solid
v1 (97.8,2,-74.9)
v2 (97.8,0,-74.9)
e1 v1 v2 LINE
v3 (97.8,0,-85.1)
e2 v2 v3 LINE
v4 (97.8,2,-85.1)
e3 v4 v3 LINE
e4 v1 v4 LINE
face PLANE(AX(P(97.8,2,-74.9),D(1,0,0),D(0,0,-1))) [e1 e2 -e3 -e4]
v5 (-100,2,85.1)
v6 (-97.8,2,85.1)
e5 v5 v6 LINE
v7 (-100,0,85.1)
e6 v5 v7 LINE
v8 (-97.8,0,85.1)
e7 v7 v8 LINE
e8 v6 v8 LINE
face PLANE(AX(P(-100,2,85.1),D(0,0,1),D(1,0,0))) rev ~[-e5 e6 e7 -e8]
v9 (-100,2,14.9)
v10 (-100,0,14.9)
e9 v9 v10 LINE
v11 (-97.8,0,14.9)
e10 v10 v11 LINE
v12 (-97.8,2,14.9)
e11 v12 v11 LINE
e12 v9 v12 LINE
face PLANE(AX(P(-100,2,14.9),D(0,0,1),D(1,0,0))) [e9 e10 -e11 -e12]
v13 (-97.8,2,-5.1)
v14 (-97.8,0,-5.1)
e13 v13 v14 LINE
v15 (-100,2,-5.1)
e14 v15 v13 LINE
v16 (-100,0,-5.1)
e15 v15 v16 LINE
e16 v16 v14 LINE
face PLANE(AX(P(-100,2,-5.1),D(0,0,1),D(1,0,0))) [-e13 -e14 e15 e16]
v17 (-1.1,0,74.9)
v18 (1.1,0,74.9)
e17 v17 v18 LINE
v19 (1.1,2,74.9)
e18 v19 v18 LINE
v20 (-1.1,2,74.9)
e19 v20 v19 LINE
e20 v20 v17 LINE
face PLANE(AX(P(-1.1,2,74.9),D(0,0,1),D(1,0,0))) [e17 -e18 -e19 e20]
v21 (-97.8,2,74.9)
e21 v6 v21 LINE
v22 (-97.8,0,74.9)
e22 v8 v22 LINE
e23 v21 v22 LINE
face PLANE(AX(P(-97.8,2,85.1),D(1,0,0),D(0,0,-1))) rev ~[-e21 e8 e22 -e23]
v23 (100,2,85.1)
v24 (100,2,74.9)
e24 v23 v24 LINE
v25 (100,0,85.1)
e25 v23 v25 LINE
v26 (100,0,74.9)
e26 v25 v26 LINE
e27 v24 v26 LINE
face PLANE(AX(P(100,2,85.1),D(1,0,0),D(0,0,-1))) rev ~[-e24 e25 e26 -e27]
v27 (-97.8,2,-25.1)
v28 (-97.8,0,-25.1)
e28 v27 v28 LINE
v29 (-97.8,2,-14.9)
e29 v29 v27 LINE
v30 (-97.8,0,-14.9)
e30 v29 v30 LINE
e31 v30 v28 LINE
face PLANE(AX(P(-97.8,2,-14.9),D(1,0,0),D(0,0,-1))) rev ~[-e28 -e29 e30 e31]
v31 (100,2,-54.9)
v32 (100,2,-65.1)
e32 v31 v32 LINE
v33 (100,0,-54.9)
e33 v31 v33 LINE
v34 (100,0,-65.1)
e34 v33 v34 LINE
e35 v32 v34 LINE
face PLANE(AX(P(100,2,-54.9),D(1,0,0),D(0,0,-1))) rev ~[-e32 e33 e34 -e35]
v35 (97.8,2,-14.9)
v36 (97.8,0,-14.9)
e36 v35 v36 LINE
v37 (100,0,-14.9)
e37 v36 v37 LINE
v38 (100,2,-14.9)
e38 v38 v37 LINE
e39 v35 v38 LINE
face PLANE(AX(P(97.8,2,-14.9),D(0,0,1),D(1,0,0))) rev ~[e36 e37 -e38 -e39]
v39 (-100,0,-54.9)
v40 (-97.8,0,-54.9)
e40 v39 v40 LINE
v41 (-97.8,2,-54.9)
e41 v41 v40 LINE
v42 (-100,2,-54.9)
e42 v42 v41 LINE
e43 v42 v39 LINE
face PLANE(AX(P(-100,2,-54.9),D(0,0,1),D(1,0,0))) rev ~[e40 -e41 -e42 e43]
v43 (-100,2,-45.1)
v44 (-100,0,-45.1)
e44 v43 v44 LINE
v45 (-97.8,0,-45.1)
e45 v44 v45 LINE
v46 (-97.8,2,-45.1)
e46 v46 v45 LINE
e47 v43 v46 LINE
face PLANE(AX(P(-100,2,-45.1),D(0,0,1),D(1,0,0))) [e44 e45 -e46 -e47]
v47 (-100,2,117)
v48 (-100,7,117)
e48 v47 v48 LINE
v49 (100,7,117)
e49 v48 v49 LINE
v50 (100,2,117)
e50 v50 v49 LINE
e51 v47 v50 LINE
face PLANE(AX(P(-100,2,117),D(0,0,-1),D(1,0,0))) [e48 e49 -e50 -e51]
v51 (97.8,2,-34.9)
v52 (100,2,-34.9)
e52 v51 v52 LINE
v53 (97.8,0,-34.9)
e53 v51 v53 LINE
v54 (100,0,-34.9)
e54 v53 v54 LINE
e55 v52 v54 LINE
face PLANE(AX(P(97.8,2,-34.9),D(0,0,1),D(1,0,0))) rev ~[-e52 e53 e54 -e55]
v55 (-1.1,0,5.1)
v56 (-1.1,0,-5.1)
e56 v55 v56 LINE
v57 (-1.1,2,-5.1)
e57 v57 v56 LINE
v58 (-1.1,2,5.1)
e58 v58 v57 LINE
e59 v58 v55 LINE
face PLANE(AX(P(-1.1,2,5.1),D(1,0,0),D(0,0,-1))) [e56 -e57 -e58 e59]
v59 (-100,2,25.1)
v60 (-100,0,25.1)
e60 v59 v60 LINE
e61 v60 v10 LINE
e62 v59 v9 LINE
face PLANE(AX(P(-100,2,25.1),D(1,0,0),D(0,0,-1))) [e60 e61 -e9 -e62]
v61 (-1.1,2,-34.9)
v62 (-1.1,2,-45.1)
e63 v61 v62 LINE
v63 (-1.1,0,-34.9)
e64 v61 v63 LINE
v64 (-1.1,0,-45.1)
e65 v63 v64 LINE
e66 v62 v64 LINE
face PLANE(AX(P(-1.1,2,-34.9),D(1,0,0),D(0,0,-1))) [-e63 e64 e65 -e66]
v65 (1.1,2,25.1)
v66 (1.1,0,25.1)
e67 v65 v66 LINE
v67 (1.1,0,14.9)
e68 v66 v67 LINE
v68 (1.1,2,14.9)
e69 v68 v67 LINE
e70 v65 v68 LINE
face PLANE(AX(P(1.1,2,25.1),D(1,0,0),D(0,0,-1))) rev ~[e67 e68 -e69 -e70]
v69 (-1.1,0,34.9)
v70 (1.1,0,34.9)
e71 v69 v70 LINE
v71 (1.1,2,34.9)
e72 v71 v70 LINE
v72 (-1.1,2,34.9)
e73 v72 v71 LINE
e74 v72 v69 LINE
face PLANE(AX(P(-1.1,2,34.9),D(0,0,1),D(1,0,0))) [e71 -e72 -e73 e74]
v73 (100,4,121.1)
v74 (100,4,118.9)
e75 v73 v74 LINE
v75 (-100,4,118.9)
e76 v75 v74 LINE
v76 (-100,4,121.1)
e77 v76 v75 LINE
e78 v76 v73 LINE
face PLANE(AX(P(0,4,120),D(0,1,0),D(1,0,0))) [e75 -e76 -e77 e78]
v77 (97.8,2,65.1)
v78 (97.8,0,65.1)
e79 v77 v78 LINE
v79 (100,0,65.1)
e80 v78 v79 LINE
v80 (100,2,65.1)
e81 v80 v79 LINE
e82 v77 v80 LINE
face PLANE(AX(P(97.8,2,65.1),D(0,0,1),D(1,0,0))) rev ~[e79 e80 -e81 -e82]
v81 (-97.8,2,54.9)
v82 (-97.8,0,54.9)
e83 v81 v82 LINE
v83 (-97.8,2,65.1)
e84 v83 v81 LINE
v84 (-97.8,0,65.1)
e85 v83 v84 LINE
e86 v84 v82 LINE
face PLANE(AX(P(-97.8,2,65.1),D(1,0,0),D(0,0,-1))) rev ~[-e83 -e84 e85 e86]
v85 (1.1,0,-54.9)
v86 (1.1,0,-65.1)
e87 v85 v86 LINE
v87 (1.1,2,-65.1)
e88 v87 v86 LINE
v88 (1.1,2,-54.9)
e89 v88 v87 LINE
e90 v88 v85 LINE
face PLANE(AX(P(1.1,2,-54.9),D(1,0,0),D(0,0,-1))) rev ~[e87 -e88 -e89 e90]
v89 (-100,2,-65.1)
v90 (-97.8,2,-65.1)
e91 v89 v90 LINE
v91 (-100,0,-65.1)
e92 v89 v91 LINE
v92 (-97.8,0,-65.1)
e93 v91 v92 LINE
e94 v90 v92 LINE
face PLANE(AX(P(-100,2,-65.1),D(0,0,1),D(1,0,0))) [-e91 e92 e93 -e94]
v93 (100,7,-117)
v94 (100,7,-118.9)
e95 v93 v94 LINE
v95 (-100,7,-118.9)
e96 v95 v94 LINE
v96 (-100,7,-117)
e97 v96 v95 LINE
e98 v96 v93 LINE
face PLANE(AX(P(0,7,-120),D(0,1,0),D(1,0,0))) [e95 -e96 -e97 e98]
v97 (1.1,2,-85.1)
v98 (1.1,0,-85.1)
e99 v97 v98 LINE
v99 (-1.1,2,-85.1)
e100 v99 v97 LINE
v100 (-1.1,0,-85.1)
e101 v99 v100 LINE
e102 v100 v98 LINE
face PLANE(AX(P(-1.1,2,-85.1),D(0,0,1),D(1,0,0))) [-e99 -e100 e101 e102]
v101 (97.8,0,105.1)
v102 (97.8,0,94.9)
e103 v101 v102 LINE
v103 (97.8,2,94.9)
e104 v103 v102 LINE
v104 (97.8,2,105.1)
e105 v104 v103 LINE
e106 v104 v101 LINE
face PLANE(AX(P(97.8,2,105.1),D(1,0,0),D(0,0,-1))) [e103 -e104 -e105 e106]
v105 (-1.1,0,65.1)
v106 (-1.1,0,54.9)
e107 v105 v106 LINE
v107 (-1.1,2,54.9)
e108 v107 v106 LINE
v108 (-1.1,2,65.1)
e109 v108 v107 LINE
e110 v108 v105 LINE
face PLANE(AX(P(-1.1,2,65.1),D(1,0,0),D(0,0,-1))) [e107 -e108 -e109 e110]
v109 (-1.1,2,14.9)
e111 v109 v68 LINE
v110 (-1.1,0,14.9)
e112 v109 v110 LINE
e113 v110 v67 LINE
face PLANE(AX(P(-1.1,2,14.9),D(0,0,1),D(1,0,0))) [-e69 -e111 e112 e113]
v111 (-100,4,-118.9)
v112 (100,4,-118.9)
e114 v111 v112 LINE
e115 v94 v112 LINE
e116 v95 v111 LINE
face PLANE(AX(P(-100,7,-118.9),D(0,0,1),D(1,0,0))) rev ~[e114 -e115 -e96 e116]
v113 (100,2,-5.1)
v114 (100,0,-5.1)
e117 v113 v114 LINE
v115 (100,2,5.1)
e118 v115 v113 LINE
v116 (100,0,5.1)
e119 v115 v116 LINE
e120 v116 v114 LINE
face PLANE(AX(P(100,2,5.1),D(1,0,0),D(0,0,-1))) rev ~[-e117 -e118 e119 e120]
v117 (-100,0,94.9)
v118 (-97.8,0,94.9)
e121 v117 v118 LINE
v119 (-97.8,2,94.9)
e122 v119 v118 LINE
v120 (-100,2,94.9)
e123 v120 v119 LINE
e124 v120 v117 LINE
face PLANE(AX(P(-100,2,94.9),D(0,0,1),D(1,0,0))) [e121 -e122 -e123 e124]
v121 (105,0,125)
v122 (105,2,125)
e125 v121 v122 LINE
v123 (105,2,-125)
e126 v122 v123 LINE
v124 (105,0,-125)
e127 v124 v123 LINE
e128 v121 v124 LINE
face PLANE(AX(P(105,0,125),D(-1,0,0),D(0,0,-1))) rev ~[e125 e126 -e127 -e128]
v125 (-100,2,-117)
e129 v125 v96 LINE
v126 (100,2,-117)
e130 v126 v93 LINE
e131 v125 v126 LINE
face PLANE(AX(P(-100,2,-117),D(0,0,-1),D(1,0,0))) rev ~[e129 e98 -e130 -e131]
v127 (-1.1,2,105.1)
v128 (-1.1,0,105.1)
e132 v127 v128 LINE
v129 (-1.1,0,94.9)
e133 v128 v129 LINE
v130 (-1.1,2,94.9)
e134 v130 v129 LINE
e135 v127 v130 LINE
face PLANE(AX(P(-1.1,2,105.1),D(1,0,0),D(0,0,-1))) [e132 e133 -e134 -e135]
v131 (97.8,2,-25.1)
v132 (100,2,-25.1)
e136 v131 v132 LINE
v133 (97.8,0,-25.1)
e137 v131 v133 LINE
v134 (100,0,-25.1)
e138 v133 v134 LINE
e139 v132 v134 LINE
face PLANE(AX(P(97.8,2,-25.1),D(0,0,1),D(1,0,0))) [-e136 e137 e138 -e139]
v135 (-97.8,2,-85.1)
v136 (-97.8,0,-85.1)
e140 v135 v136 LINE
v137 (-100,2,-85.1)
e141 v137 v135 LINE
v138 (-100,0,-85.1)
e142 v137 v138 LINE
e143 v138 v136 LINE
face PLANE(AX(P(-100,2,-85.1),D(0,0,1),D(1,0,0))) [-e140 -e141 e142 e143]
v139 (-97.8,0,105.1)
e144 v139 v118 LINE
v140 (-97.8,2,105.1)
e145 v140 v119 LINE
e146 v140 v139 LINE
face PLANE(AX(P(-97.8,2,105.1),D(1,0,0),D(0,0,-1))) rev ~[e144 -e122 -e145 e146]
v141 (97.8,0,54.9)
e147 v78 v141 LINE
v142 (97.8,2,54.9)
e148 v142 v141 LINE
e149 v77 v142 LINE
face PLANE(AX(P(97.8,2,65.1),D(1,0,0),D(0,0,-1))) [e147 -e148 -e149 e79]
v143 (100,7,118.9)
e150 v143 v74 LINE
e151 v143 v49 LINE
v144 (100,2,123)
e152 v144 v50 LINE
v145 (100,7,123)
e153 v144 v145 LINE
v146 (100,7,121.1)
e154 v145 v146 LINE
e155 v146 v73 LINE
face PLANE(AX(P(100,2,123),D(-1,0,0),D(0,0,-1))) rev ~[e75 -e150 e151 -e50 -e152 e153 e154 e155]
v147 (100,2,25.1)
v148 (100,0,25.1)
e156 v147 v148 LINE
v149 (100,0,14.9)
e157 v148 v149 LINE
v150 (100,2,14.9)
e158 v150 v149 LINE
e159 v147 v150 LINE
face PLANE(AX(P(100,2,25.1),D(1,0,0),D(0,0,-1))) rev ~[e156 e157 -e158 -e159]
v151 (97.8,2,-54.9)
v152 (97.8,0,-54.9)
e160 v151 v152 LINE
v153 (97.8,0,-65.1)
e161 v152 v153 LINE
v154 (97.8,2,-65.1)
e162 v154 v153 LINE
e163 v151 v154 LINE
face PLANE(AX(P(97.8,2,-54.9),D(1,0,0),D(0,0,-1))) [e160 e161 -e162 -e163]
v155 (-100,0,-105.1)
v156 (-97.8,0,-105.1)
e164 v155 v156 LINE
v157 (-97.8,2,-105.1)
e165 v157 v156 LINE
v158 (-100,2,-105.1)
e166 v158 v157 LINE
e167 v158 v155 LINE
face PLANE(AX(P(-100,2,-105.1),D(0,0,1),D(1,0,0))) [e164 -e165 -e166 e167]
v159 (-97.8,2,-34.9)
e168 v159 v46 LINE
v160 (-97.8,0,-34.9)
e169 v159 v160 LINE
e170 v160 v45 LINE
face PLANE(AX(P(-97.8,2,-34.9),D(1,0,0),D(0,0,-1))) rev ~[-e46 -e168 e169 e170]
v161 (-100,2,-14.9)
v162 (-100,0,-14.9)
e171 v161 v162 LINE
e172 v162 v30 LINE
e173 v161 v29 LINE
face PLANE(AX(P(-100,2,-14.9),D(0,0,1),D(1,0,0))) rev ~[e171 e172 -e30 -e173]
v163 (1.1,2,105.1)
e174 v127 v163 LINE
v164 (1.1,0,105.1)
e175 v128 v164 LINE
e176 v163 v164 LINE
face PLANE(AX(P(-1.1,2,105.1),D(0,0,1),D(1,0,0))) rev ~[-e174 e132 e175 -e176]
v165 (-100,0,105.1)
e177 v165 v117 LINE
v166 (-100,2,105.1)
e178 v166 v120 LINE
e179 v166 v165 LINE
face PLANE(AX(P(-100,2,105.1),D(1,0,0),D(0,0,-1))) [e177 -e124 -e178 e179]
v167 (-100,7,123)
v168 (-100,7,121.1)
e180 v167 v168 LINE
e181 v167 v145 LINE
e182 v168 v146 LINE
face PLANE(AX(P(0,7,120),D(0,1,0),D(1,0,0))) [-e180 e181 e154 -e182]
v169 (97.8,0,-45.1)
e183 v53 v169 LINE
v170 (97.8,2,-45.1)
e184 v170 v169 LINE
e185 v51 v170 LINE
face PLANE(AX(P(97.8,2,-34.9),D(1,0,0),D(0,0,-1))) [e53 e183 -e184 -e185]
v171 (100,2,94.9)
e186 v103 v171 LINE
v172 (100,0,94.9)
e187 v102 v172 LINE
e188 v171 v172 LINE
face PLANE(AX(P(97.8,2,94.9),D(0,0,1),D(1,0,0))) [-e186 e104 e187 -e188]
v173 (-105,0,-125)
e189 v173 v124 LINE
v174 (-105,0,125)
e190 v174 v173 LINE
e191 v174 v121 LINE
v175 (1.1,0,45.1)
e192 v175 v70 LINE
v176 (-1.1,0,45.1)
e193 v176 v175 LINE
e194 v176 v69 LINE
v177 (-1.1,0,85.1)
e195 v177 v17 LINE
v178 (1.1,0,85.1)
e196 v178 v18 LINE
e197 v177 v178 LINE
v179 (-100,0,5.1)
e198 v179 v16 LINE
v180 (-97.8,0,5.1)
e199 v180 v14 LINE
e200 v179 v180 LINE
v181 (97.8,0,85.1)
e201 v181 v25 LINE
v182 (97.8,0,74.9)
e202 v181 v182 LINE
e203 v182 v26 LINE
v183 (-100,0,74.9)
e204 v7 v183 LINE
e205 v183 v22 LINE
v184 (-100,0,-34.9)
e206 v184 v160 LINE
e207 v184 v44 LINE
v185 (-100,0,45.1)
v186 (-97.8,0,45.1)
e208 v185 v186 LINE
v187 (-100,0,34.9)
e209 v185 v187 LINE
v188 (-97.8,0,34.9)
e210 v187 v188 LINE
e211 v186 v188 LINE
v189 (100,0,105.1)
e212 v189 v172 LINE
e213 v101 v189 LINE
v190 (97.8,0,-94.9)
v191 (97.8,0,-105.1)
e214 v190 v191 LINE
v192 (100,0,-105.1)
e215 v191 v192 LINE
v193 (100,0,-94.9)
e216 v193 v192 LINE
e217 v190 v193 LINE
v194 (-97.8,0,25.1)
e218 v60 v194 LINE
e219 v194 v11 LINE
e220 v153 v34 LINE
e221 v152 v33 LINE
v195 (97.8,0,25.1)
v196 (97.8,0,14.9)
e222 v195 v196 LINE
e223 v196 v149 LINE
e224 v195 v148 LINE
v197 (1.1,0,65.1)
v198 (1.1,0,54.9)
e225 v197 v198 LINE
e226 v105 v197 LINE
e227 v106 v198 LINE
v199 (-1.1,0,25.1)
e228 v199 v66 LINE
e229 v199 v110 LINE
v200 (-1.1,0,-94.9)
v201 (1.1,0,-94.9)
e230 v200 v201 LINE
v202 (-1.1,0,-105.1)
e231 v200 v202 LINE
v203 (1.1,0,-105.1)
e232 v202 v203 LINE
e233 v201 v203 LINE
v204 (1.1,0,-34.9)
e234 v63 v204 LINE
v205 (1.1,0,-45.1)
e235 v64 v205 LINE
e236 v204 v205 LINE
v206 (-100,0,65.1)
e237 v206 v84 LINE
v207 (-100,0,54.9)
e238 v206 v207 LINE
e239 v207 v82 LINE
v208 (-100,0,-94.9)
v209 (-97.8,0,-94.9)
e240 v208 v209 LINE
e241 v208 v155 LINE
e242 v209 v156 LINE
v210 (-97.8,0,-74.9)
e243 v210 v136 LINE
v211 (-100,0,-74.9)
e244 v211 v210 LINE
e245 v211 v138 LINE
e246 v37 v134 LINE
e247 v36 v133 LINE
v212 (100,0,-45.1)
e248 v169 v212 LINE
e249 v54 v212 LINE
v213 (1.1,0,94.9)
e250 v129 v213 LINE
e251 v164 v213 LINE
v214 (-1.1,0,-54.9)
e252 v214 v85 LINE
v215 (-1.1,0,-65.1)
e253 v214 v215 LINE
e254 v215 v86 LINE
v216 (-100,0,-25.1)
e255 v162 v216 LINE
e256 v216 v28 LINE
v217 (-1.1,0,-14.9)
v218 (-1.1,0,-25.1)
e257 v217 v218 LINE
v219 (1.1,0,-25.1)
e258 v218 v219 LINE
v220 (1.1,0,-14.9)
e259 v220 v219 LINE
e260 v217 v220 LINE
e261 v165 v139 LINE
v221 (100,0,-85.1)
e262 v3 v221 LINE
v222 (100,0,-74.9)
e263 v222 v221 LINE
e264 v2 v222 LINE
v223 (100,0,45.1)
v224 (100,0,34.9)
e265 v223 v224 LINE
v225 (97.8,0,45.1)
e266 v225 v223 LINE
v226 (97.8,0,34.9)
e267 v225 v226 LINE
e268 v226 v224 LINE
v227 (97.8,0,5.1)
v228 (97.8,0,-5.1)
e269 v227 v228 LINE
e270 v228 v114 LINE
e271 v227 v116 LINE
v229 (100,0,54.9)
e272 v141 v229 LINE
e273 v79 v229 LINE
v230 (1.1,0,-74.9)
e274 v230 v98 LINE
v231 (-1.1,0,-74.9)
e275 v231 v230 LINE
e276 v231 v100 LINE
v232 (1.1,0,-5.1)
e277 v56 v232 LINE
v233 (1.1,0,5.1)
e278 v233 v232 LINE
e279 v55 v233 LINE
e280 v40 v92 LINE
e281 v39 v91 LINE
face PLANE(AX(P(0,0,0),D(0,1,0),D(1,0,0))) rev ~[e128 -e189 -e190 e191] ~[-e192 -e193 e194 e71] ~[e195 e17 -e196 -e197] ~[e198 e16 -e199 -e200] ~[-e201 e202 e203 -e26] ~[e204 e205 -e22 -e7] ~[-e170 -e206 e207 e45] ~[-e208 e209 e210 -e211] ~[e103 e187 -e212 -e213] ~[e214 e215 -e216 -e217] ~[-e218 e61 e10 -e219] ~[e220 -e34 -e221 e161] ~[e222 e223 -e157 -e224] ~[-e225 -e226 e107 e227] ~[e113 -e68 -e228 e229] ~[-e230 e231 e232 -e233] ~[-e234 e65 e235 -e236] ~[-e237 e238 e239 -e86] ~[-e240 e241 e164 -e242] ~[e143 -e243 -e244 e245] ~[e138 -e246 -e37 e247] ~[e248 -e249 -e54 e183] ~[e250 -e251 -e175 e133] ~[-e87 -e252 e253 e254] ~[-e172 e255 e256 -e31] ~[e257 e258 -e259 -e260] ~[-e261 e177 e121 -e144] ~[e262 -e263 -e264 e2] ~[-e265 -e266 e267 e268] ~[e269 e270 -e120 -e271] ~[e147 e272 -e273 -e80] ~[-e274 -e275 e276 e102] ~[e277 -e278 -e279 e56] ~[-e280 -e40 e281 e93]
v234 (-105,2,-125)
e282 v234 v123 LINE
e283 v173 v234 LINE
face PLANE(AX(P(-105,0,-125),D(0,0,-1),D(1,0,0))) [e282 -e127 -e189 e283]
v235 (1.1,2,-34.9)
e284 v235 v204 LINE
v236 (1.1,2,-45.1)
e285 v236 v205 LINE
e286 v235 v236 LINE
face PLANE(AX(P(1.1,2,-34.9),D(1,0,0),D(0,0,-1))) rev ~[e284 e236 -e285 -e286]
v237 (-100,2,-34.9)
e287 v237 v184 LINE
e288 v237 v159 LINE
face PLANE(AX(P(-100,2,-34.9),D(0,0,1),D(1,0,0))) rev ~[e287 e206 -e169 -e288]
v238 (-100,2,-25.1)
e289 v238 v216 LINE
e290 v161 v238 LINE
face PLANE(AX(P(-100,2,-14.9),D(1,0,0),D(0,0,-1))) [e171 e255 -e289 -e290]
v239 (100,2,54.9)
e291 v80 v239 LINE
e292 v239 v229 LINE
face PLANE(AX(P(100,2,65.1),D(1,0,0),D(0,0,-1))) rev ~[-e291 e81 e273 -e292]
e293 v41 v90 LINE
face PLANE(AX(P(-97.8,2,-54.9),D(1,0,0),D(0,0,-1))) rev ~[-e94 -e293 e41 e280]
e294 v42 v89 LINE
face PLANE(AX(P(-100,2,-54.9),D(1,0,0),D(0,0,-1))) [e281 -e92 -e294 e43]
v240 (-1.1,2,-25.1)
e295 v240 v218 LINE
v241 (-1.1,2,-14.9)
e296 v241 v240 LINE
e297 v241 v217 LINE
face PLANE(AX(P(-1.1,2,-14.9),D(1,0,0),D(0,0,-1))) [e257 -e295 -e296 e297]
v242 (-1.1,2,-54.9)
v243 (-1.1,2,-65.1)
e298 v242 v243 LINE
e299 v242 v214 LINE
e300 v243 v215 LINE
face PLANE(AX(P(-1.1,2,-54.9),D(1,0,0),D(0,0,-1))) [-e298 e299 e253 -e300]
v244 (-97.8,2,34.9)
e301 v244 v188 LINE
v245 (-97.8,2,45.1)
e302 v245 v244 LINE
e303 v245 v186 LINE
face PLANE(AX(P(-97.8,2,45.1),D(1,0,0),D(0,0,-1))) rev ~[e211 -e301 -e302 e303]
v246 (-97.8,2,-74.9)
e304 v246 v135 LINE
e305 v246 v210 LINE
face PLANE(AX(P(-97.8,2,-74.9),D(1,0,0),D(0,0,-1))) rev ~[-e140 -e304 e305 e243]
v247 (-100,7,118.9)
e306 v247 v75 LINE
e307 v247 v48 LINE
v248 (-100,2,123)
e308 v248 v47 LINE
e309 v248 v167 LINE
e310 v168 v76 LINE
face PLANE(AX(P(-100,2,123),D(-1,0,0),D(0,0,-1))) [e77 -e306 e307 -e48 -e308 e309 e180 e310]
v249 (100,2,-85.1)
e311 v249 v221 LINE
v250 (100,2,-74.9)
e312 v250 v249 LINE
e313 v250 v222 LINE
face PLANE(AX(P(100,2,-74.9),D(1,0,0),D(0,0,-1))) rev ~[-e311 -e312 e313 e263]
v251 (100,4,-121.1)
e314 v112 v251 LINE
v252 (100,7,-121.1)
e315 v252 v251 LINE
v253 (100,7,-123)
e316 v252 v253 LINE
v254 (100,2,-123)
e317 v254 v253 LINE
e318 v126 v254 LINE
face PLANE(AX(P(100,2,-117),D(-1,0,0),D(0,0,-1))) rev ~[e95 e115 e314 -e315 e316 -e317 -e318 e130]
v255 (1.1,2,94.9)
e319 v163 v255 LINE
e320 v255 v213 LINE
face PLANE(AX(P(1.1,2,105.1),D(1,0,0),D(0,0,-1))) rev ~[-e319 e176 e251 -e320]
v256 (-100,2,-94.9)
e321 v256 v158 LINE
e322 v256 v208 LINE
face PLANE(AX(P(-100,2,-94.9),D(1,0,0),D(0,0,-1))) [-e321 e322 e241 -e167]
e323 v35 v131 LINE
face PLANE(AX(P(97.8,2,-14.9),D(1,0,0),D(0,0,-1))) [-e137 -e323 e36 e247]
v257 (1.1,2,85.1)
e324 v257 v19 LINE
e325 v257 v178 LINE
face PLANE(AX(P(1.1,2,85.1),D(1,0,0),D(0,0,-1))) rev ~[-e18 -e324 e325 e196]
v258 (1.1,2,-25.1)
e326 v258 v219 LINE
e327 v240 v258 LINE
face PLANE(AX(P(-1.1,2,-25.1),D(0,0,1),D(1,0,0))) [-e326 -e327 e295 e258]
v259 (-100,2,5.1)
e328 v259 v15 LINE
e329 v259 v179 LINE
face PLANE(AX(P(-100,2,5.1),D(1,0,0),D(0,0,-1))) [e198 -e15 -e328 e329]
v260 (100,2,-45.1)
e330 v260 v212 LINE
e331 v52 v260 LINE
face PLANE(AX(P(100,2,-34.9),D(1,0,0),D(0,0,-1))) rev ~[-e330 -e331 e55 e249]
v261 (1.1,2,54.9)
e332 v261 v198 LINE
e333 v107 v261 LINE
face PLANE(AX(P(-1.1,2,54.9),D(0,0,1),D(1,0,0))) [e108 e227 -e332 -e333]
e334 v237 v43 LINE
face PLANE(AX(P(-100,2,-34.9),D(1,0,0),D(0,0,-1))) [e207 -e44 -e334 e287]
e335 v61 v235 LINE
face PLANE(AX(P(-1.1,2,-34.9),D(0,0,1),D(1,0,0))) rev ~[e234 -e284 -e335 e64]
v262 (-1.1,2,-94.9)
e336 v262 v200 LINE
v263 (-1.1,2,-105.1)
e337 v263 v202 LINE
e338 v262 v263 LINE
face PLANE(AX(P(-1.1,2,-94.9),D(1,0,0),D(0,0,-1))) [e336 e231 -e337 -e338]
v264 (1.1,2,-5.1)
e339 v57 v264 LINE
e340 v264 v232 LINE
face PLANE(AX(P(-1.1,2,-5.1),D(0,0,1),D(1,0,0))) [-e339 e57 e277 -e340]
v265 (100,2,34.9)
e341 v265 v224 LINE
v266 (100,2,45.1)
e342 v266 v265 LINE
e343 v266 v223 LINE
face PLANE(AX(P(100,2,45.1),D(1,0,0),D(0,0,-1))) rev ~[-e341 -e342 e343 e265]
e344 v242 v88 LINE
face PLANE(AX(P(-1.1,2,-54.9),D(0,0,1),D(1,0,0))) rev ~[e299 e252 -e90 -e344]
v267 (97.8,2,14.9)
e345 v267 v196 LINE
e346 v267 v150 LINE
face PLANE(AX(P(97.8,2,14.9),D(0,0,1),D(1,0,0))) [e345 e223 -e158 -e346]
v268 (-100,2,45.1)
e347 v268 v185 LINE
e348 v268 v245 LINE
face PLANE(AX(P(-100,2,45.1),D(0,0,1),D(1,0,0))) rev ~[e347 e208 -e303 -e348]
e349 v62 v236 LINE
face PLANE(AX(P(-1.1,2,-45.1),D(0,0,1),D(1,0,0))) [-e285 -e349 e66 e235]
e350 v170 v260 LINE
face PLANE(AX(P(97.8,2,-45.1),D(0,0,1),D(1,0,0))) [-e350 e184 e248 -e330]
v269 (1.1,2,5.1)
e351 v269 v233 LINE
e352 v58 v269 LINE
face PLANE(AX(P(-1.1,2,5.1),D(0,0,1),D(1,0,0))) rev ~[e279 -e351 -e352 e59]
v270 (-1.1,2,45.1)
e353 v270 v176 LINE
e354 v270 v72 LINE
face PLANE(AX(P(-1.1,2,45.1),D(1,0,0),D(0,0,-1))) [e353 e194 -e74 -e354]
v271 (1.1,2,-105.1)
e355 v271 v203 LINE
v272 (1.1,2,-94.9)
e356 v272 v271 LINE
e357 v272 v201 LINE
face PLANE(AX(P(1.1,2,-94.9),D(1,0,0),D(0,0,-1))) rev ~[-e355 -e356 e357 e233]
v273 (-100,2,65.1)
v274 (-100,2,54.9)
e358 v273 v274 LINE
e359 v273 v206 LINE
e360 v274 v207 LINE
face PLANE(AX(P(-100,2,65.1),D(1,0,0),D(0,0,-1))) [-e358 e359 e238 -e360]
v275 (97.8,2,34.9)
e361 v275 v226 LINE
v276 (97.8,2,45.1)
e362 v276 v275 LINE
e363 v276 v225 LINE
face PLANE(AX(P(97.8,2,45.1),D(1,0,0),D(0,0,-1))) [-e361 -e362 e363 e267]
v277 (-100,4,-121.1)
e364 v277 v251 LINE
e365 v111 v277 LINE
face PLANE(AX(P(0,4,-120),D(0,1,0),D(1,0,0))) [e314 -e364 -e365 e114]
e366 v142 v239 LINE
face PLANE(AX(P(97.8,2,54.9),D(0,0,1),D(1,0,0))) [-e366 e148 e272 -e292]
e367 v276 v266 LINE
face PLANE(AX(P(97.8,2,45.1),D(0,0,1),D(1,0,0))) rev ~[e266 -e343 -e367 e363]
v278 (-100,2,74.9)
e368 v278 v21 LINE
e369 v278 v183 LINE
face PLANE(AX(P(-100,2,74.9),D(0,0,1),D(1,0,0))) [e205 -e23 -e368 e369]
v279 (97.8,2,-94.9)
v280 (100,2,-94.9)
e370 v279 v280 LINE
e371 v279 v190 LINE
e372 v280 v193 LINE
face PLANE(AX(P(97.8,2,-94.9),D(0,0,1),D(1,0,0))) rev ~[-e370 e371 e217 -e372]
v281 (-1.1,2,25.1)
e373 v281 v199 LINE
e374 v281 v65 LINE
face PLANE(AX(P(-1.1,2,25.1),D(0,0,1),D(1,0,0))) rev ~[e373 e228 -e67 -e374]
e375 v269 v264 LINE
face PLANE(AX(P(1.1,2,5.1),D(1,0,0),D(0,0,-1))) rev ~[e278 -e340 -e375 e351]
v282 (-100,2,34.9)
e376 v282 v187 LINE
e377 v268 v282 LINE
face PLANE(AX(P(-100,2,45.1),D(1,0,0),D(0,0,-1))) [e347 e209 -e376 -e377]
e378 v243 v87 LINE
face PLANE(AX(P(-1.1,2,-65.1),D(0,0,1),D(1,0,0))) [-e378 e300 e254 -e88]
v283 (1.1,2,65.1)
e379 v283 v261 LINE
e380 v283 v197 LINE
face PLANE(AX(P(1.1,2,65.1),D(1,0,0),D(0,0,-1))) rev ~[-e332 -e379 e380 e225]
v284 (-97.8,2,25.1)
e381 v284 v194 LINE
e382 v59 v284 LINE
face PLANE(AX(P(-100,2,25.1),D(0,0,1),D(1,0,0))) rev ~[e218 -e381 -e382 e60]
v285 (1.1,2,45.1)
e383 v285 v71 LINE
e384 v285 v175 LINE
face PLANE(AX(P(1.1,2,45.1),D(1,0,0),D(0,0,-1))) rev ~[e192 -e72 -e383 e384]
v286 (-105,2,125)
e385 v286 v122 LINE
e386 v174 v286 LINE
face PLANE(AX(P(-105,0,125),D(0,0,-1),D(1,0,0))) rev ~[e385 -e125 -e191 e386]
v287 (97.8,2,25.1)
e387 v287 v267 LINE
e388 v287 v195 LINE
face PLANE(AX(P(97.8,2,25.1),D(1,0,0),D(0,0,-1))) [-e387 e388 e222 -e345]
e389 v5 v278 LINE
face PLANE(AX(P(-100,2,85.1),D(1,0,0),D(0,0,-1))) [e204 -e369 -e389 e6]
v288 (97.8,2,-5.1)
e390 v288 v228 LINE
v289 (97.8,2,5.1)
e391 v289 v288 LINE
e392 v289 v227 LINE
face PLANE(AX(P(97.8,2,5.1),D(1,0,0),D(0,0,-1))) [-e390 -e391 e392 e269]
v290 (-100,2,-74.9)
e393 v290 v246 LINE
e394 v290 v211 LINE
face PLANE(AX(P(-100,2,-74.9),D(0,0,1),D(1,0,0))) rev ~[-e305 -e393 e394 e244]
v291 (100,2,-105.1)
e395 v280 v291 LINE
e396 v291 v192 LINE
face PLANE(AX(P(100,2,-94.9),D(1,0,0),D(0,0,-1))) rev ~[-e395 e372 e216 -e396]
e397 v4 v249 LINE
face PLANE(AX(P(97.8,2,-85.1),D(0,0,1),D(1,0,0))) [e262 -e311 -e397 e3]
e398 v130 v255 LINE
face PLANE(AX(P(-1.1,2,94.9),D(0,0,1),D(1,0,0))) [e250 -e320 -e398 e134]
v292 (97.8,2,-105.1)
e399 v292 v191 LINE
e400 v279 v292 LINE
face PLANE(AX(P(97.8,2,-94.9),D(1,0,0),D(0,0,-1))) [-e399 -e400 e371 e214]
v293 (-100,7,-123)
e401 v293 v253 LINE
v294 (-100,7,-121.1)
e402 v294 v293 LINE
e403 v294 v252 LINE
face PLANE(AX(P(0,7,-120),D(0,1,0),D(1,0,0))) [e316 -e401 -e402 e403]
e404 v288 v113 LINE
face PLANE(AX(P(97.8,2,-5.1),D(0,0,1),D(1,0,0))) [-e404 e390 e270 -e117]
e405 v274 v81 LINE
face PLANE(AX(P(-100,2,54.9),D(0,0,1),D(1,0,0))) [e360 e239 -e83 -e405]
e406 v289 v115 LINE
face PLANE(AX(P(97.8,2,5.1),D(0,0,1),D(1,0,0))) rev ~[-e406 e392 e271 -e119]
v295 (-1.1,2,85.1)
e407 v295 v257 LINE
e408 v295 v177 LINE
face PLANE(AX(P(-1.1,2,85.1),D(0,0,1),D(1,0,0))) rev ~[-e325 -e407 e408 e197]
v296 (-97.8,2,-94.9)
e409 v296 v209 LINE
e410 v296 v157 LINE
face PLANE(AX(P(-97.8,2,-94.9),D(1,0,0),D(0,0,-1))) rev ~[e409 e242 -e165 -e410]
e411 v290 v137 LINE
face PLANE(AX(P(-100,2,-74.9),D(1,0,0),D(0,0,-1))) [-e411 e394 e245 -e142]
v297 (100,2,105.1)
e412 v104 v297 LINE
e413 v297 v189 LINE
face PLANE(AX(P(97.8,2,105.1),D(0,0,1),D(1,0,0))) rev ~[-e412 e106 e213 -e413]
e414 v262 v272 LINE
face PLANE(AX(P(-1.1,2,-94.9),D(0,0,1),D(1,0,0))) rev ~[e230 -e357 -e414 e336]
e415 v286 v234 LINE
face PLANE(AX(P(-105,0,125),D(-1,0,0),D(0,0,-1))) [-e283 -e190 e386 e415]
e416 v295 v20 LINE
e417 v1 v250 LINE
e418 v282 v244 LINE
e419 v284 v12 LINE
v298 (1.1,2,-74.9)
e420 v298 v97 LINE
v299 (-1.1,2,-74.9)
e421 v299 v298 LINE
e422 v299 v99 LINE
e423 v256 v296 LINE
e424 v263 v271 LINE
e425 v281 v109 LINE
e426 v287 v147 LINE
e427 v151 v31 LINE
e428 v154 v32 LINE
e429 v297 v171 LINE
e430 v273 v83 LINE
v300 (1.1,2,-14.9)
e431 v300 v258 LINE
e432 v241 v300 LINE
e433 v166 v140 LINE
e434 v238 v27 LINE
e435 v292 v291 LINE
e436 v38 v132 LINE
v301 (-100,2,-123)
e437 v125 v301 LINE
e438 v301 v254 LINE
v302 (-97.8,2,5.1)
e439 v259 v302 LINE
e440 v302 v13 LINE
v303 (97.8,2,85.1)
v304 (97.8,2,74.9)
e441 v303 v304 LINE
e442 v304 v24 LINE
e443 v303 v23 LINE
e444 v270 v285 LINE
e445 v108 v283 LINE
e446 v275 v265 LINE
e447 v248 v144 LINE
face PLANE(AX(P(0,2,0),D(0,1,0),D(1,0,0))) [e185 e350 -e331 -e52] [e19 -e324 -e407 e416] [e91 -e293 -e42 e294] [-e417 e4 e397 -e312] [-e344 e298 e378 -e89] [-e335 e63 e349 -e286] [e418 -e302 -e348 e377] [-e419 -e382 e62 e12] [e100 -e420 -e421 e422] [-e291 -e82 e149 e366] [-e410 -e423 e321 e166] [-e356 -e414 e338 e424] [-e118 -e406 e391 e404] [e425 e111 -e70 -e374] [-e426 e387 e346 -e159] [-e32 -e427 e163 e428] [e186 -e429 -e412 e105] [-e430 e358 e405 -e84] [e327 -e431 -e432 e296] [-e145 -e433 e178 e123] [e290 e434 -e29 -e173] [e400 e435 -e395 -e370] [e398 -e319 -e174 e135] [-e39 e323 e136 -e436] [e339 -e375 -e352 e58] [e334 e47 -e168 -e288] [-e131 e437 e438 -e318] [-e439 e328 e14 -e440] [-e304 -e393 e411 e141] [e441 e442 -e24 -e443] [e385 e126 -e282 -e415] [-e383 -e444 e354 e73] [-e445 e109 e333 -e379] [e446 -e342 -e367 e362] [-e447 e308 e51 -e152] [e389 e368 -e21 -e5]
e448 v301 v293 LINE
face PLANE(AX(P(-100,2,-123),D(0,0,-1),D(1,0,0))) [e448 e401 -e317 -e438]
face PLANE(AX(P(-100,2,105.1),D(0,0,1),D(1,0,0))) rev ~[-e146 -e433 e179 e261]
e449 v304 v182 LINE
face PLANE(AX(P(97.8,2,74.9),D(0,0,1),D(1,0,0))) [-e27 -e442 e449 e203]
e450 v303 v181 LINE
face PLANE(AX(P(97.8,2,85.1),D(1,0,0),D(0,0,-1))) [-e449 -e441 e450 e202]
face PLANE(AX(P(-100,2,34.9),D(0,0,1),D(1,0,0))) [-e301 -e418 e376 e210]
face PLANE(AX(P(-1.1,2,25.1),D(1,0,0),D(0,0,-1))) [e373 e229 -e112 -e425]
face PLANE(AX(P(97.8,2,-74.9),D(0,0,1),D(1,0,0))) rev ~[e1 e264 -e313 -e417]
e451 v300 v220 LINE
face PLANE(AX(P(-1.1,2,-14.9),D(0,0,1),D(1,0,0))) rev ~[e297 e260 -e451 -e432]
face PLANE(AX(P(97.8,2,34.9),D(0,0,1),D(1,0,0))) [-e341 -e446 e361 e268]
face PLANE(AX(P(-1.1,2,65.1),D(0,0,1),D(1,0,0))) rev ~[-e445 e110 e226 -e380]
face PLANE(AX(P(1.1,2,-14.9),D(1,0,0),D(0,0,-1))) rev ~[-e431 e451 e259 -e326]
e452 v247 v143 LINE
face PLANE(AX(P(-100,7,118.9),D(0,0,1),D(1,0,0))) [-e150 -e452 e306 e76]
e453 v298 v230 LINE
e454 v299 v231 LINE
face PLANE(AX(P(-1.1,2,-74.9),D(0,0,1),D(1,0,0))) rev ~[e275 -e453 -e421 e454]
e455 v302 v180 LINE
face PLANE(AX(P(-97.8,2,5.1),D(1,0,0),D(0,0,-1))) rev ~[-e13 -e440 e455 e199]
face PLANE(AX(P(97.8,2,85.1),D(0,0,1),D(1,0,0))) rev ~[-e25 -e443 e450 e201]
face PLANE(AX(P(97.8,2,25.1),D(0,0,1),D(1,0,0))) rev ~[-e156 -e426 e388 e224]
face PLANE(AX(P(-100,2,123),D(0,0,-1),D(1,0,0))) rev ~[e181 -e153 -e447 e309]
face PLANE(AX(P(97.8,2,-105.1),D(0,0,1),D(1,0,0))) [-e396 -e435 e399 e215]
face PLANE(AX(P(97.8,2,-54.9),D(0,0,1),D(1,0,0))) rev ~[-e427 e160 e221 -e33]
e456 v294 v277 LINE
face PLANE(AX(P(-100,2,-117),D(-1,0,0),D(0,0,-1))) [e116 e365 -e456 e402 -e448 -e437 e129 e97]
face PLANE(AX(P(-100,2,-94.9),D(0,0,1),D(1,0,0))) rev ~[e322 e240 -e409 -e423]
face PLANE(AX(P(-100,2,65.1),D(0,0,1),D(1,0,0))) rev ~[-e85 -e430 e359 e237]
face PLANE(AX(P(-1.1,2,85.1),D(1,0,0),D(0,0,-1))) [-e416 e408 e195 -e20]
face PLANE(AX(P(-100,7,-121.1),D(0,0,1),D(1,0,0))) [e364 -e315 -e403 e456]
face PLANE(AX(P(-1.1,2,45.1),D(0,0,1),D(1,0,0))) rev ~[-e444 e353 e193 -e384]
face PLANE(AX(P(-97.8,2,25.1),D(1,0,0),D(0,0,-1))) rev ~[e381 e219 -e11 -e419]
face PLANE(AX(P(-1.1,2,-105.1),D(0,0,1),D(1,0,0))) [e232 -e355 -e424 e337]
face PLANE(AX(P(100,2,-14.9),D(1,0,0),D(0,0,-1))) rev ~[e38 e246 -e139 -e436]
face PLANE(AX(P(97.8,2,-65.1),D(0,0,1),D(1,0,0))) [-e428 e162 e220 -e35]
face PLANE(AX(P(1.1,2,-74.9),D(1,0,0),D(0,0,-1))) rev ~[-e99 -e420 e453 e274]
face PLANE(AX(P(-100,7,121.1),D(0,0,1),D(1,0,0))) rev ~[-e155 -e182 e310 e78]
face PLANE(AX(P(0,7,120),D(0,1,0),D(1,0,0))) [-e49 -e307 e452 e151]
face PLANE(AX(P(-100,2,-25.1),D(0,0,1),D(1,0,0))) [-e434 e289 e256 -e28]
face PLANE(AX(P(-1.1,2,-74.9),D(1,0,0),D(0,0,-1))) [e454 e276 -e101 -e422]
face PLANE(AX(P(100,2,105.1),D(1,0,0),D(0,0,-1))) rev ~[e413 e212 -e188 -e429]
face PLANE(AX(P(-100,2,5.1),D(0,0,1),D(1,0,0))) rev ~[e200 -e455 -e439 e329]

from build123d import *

# Parameters (mm, degrees)
SKETCH1_W           = 210
SKETCH1_H           = 250
BOSS_EXTRUDE1_DEPTH = 2
SKETCH2_W           = 200
SKETCH2_H           = 6
BOSS_EXTRUDE2_DEPTH = 5
SKETCH5_W           = 200
SKETCH5_H           = 2.2
CUT_EXTRUDE1_DEPTH  = 3
SKETCH6_W           = 200
SKETCH6_H           = 6
BOSS_EXTRUDE3_DEPTH = 5
SKETCH7_W           = 200
SKETCH7_H           = 2.2
CUT_EXTRUDE2_DEPTH  = 3
SKETCH_2_W          = 2.2
SKETCH_2_H          = 10.2
CUT_EXTRUDE_3_DEPTH = 164.324829711


with BuildPart() as part:
    # Sketch1 → Boss-Extrude1 (new body)
    with BuildSketch(Plane(origin=(0, 0, 0), x_dir=(1, 0, 0), z_dir=(0, 1, 0))):
        Rectangle(SKETCH1_W, SKETCH1_H)
    extrude(amount=BOSS_EXTRUDE1_DEPTH)

    # Sketch2 → Boss-Extrude2 (add)
    with BuildSketch(Plane(origin=(0, 2, 0), x_dir=(1, 0, 0), z_dir=(0, 1, 0))):
        with Locations((0, -120)):
            Rectangle(SKETCH2_W, SKETCH2_H)
    extrude(amount=BOSS_EXTRUDE2_DEPTH)

    # Sketch5 → Cut-Extrude1 (cut)
    with BuildSketch(Plane(origin=(0, 7, 0), x_dir=(1, 0, 0), z_dir=(0, 1, 0))):
        with Locations((0, -120)):
            Rectangle(SKETCH5_W, SKETCH5_H)
    extrude(amount=-CUT_EXTRUDE1_DEPTH, mode=Mode.SUBTRACT)

    # Sketch6 → Boss-Extrude3 (add)
    with BuildSketch(Plane(origin=(0, 2, 0), x_dir=(1, 0, 0), z_dir=(0, 1, 0))):
        with Locations((0, 120)):
            Rectangle(SKETCH6_W, SKETCH6_H)
    extrude(amount=BOSS_EXTRUDE3_DEPTH)

    # Sketch7 → Cut-Extrude2 (cut)
    with BuildSketch(Plane(origin=(0, 7, 0), x_dir=(1, 0, 0), z_dir=(0, 1, 0))):
        with Locations((0, 120)):
            Rectangle(SKETCH7_W, SKETCH7_H)
    extrude(amount=-CUT_EXTRUDE2_DEPTH, mode=Mode.SUBTRACT)

    # 草图2 → 切除-拉伸3 (cut, through all)
    with BuildSketch(Plane(origin=(0, 2, 0), x_dir=(1, 0, 0), z_dir=(0, 1, 0))):
        with Locations((0, -20)):
            Rectangle(SKETCH_2_W, SKETCH_2_H)
        Rectangle(SKETCH_2_W, SKETCH_2_H)
        with Locations((0, 20)):
            Rectangle(SKETCH_2_W, SKETCH_2_H)
        with Locations((0, 40)):
            Rectangle(SKETCH_2_W, SKETCH_2_H)
        with Locations((0, 60)):
            Rectangle(SKETCH_2_W, SKETCH_2_H)
        with Locations((0, 80)):
            Rectangle(SKETCH_2_W, SKETCH_2_H)
        with Locations((0, 100)):
            Rectangle(SKETCH_2_W, SKETCH_2_H)
        with Locations((0, -40)):
            Rectangle(SKETCH_2_W, SKETCH_2_H)
        with Locations((0, -60)):
            Rectangle(SKETCH_2_W, SKETCH_2_H)
        with Locations((0, -80)):
            Rectangle(SKETCH_2_W, SKETCH_2_H)
        with Locations((0, -100)):
            Rectangle(SKETCH_2_W, SKETCH_2_H)
        with Locations((98.9, 0)):
            Rectangle(SKETCH_2_W, SKETCH_2_H)
        with Locations((98.9, 20)):
            Rectangle(SKETCH_2_W, SKETCH_2_H)
        with Locations((-98.9, 0)):
            Rectangle(SKETCH_2_W, SKETCH_2_H)
        with Locations((98.9, 40)):
            Rectangle(SKETCH_2_W, SKETCH_2_H)
        with Locations((98.9, 60)):
            Rectangle(SKETCH_2_W, SKETCH_2_H)
        with Locations((98.9, 80)):
            Rectangle(SKETCH_2_W, SKETCH_2_H)
        with Locations((98.9, 100)):
            Rectangle(SKETCH_2_W, SKETCH_2_H)
        with Locations((98.9, -20)):
            Rectangle(SKETCH_2_W, SKETCH_2_H)
        with Locations((98.9, -40)):
            Rectangle(SKETCH_2_W, SKETCH_2_H)
        with Locations((98.9, -60)):
            Rectangle(SKETCH_2_W, SKETCH_2_H)
        with Locations((98.9, -80)):
            Rectangle(SKETCH_2_W, SKETCH_2_H)
        with Locations((98.9, -100)):
            Rectangle(SKETCH_2_W, SKETCH_2_H)
        with Locations((-98.9, 20)):
            Rectangle(SKETCH_2_W, SKETCH_2_H)
        with Locations((-98.9, 40)):
            Rectangle(SKETCH_2_W, SKETCH_2_H)
        with Locations((-98.9, 60)):
            Rectangle(SKETCH_2_W, SKETCH_2_H)
        with Locations((-98.9, 80)):
            Rectangle(SKETCH_2_W, SKETCH_2_H)
        with Locations((-98.9, 100)):
            Rectangle(SKETCH_2_W, SKETCH_2_H)
        with Locations((-98.9, -20)):
            Rectangle(SKETCH_2_W, SKETCH_2_H)
        with Locations((-98.9, -40)):
            Rectangle(SKETCH_2_W, SKETCH_2_H)
        with Locations((-98.9, -60)):
            Rectangle(SKETCH_2_W, SKETCH_2_H)
        with Locations((-98.9, -80)):
            Rectangle(SKETCH_2_W, SKETCH_2_H)
        with Locations((-98.9, -100)):
            Rectangle(SKETCH_2_W, SKETCH_2_H)
    extrude(amount=-CUT_EXTRUDE_3_DEPTH, mode=Mode.SUBTRACT)


solid = part.part
